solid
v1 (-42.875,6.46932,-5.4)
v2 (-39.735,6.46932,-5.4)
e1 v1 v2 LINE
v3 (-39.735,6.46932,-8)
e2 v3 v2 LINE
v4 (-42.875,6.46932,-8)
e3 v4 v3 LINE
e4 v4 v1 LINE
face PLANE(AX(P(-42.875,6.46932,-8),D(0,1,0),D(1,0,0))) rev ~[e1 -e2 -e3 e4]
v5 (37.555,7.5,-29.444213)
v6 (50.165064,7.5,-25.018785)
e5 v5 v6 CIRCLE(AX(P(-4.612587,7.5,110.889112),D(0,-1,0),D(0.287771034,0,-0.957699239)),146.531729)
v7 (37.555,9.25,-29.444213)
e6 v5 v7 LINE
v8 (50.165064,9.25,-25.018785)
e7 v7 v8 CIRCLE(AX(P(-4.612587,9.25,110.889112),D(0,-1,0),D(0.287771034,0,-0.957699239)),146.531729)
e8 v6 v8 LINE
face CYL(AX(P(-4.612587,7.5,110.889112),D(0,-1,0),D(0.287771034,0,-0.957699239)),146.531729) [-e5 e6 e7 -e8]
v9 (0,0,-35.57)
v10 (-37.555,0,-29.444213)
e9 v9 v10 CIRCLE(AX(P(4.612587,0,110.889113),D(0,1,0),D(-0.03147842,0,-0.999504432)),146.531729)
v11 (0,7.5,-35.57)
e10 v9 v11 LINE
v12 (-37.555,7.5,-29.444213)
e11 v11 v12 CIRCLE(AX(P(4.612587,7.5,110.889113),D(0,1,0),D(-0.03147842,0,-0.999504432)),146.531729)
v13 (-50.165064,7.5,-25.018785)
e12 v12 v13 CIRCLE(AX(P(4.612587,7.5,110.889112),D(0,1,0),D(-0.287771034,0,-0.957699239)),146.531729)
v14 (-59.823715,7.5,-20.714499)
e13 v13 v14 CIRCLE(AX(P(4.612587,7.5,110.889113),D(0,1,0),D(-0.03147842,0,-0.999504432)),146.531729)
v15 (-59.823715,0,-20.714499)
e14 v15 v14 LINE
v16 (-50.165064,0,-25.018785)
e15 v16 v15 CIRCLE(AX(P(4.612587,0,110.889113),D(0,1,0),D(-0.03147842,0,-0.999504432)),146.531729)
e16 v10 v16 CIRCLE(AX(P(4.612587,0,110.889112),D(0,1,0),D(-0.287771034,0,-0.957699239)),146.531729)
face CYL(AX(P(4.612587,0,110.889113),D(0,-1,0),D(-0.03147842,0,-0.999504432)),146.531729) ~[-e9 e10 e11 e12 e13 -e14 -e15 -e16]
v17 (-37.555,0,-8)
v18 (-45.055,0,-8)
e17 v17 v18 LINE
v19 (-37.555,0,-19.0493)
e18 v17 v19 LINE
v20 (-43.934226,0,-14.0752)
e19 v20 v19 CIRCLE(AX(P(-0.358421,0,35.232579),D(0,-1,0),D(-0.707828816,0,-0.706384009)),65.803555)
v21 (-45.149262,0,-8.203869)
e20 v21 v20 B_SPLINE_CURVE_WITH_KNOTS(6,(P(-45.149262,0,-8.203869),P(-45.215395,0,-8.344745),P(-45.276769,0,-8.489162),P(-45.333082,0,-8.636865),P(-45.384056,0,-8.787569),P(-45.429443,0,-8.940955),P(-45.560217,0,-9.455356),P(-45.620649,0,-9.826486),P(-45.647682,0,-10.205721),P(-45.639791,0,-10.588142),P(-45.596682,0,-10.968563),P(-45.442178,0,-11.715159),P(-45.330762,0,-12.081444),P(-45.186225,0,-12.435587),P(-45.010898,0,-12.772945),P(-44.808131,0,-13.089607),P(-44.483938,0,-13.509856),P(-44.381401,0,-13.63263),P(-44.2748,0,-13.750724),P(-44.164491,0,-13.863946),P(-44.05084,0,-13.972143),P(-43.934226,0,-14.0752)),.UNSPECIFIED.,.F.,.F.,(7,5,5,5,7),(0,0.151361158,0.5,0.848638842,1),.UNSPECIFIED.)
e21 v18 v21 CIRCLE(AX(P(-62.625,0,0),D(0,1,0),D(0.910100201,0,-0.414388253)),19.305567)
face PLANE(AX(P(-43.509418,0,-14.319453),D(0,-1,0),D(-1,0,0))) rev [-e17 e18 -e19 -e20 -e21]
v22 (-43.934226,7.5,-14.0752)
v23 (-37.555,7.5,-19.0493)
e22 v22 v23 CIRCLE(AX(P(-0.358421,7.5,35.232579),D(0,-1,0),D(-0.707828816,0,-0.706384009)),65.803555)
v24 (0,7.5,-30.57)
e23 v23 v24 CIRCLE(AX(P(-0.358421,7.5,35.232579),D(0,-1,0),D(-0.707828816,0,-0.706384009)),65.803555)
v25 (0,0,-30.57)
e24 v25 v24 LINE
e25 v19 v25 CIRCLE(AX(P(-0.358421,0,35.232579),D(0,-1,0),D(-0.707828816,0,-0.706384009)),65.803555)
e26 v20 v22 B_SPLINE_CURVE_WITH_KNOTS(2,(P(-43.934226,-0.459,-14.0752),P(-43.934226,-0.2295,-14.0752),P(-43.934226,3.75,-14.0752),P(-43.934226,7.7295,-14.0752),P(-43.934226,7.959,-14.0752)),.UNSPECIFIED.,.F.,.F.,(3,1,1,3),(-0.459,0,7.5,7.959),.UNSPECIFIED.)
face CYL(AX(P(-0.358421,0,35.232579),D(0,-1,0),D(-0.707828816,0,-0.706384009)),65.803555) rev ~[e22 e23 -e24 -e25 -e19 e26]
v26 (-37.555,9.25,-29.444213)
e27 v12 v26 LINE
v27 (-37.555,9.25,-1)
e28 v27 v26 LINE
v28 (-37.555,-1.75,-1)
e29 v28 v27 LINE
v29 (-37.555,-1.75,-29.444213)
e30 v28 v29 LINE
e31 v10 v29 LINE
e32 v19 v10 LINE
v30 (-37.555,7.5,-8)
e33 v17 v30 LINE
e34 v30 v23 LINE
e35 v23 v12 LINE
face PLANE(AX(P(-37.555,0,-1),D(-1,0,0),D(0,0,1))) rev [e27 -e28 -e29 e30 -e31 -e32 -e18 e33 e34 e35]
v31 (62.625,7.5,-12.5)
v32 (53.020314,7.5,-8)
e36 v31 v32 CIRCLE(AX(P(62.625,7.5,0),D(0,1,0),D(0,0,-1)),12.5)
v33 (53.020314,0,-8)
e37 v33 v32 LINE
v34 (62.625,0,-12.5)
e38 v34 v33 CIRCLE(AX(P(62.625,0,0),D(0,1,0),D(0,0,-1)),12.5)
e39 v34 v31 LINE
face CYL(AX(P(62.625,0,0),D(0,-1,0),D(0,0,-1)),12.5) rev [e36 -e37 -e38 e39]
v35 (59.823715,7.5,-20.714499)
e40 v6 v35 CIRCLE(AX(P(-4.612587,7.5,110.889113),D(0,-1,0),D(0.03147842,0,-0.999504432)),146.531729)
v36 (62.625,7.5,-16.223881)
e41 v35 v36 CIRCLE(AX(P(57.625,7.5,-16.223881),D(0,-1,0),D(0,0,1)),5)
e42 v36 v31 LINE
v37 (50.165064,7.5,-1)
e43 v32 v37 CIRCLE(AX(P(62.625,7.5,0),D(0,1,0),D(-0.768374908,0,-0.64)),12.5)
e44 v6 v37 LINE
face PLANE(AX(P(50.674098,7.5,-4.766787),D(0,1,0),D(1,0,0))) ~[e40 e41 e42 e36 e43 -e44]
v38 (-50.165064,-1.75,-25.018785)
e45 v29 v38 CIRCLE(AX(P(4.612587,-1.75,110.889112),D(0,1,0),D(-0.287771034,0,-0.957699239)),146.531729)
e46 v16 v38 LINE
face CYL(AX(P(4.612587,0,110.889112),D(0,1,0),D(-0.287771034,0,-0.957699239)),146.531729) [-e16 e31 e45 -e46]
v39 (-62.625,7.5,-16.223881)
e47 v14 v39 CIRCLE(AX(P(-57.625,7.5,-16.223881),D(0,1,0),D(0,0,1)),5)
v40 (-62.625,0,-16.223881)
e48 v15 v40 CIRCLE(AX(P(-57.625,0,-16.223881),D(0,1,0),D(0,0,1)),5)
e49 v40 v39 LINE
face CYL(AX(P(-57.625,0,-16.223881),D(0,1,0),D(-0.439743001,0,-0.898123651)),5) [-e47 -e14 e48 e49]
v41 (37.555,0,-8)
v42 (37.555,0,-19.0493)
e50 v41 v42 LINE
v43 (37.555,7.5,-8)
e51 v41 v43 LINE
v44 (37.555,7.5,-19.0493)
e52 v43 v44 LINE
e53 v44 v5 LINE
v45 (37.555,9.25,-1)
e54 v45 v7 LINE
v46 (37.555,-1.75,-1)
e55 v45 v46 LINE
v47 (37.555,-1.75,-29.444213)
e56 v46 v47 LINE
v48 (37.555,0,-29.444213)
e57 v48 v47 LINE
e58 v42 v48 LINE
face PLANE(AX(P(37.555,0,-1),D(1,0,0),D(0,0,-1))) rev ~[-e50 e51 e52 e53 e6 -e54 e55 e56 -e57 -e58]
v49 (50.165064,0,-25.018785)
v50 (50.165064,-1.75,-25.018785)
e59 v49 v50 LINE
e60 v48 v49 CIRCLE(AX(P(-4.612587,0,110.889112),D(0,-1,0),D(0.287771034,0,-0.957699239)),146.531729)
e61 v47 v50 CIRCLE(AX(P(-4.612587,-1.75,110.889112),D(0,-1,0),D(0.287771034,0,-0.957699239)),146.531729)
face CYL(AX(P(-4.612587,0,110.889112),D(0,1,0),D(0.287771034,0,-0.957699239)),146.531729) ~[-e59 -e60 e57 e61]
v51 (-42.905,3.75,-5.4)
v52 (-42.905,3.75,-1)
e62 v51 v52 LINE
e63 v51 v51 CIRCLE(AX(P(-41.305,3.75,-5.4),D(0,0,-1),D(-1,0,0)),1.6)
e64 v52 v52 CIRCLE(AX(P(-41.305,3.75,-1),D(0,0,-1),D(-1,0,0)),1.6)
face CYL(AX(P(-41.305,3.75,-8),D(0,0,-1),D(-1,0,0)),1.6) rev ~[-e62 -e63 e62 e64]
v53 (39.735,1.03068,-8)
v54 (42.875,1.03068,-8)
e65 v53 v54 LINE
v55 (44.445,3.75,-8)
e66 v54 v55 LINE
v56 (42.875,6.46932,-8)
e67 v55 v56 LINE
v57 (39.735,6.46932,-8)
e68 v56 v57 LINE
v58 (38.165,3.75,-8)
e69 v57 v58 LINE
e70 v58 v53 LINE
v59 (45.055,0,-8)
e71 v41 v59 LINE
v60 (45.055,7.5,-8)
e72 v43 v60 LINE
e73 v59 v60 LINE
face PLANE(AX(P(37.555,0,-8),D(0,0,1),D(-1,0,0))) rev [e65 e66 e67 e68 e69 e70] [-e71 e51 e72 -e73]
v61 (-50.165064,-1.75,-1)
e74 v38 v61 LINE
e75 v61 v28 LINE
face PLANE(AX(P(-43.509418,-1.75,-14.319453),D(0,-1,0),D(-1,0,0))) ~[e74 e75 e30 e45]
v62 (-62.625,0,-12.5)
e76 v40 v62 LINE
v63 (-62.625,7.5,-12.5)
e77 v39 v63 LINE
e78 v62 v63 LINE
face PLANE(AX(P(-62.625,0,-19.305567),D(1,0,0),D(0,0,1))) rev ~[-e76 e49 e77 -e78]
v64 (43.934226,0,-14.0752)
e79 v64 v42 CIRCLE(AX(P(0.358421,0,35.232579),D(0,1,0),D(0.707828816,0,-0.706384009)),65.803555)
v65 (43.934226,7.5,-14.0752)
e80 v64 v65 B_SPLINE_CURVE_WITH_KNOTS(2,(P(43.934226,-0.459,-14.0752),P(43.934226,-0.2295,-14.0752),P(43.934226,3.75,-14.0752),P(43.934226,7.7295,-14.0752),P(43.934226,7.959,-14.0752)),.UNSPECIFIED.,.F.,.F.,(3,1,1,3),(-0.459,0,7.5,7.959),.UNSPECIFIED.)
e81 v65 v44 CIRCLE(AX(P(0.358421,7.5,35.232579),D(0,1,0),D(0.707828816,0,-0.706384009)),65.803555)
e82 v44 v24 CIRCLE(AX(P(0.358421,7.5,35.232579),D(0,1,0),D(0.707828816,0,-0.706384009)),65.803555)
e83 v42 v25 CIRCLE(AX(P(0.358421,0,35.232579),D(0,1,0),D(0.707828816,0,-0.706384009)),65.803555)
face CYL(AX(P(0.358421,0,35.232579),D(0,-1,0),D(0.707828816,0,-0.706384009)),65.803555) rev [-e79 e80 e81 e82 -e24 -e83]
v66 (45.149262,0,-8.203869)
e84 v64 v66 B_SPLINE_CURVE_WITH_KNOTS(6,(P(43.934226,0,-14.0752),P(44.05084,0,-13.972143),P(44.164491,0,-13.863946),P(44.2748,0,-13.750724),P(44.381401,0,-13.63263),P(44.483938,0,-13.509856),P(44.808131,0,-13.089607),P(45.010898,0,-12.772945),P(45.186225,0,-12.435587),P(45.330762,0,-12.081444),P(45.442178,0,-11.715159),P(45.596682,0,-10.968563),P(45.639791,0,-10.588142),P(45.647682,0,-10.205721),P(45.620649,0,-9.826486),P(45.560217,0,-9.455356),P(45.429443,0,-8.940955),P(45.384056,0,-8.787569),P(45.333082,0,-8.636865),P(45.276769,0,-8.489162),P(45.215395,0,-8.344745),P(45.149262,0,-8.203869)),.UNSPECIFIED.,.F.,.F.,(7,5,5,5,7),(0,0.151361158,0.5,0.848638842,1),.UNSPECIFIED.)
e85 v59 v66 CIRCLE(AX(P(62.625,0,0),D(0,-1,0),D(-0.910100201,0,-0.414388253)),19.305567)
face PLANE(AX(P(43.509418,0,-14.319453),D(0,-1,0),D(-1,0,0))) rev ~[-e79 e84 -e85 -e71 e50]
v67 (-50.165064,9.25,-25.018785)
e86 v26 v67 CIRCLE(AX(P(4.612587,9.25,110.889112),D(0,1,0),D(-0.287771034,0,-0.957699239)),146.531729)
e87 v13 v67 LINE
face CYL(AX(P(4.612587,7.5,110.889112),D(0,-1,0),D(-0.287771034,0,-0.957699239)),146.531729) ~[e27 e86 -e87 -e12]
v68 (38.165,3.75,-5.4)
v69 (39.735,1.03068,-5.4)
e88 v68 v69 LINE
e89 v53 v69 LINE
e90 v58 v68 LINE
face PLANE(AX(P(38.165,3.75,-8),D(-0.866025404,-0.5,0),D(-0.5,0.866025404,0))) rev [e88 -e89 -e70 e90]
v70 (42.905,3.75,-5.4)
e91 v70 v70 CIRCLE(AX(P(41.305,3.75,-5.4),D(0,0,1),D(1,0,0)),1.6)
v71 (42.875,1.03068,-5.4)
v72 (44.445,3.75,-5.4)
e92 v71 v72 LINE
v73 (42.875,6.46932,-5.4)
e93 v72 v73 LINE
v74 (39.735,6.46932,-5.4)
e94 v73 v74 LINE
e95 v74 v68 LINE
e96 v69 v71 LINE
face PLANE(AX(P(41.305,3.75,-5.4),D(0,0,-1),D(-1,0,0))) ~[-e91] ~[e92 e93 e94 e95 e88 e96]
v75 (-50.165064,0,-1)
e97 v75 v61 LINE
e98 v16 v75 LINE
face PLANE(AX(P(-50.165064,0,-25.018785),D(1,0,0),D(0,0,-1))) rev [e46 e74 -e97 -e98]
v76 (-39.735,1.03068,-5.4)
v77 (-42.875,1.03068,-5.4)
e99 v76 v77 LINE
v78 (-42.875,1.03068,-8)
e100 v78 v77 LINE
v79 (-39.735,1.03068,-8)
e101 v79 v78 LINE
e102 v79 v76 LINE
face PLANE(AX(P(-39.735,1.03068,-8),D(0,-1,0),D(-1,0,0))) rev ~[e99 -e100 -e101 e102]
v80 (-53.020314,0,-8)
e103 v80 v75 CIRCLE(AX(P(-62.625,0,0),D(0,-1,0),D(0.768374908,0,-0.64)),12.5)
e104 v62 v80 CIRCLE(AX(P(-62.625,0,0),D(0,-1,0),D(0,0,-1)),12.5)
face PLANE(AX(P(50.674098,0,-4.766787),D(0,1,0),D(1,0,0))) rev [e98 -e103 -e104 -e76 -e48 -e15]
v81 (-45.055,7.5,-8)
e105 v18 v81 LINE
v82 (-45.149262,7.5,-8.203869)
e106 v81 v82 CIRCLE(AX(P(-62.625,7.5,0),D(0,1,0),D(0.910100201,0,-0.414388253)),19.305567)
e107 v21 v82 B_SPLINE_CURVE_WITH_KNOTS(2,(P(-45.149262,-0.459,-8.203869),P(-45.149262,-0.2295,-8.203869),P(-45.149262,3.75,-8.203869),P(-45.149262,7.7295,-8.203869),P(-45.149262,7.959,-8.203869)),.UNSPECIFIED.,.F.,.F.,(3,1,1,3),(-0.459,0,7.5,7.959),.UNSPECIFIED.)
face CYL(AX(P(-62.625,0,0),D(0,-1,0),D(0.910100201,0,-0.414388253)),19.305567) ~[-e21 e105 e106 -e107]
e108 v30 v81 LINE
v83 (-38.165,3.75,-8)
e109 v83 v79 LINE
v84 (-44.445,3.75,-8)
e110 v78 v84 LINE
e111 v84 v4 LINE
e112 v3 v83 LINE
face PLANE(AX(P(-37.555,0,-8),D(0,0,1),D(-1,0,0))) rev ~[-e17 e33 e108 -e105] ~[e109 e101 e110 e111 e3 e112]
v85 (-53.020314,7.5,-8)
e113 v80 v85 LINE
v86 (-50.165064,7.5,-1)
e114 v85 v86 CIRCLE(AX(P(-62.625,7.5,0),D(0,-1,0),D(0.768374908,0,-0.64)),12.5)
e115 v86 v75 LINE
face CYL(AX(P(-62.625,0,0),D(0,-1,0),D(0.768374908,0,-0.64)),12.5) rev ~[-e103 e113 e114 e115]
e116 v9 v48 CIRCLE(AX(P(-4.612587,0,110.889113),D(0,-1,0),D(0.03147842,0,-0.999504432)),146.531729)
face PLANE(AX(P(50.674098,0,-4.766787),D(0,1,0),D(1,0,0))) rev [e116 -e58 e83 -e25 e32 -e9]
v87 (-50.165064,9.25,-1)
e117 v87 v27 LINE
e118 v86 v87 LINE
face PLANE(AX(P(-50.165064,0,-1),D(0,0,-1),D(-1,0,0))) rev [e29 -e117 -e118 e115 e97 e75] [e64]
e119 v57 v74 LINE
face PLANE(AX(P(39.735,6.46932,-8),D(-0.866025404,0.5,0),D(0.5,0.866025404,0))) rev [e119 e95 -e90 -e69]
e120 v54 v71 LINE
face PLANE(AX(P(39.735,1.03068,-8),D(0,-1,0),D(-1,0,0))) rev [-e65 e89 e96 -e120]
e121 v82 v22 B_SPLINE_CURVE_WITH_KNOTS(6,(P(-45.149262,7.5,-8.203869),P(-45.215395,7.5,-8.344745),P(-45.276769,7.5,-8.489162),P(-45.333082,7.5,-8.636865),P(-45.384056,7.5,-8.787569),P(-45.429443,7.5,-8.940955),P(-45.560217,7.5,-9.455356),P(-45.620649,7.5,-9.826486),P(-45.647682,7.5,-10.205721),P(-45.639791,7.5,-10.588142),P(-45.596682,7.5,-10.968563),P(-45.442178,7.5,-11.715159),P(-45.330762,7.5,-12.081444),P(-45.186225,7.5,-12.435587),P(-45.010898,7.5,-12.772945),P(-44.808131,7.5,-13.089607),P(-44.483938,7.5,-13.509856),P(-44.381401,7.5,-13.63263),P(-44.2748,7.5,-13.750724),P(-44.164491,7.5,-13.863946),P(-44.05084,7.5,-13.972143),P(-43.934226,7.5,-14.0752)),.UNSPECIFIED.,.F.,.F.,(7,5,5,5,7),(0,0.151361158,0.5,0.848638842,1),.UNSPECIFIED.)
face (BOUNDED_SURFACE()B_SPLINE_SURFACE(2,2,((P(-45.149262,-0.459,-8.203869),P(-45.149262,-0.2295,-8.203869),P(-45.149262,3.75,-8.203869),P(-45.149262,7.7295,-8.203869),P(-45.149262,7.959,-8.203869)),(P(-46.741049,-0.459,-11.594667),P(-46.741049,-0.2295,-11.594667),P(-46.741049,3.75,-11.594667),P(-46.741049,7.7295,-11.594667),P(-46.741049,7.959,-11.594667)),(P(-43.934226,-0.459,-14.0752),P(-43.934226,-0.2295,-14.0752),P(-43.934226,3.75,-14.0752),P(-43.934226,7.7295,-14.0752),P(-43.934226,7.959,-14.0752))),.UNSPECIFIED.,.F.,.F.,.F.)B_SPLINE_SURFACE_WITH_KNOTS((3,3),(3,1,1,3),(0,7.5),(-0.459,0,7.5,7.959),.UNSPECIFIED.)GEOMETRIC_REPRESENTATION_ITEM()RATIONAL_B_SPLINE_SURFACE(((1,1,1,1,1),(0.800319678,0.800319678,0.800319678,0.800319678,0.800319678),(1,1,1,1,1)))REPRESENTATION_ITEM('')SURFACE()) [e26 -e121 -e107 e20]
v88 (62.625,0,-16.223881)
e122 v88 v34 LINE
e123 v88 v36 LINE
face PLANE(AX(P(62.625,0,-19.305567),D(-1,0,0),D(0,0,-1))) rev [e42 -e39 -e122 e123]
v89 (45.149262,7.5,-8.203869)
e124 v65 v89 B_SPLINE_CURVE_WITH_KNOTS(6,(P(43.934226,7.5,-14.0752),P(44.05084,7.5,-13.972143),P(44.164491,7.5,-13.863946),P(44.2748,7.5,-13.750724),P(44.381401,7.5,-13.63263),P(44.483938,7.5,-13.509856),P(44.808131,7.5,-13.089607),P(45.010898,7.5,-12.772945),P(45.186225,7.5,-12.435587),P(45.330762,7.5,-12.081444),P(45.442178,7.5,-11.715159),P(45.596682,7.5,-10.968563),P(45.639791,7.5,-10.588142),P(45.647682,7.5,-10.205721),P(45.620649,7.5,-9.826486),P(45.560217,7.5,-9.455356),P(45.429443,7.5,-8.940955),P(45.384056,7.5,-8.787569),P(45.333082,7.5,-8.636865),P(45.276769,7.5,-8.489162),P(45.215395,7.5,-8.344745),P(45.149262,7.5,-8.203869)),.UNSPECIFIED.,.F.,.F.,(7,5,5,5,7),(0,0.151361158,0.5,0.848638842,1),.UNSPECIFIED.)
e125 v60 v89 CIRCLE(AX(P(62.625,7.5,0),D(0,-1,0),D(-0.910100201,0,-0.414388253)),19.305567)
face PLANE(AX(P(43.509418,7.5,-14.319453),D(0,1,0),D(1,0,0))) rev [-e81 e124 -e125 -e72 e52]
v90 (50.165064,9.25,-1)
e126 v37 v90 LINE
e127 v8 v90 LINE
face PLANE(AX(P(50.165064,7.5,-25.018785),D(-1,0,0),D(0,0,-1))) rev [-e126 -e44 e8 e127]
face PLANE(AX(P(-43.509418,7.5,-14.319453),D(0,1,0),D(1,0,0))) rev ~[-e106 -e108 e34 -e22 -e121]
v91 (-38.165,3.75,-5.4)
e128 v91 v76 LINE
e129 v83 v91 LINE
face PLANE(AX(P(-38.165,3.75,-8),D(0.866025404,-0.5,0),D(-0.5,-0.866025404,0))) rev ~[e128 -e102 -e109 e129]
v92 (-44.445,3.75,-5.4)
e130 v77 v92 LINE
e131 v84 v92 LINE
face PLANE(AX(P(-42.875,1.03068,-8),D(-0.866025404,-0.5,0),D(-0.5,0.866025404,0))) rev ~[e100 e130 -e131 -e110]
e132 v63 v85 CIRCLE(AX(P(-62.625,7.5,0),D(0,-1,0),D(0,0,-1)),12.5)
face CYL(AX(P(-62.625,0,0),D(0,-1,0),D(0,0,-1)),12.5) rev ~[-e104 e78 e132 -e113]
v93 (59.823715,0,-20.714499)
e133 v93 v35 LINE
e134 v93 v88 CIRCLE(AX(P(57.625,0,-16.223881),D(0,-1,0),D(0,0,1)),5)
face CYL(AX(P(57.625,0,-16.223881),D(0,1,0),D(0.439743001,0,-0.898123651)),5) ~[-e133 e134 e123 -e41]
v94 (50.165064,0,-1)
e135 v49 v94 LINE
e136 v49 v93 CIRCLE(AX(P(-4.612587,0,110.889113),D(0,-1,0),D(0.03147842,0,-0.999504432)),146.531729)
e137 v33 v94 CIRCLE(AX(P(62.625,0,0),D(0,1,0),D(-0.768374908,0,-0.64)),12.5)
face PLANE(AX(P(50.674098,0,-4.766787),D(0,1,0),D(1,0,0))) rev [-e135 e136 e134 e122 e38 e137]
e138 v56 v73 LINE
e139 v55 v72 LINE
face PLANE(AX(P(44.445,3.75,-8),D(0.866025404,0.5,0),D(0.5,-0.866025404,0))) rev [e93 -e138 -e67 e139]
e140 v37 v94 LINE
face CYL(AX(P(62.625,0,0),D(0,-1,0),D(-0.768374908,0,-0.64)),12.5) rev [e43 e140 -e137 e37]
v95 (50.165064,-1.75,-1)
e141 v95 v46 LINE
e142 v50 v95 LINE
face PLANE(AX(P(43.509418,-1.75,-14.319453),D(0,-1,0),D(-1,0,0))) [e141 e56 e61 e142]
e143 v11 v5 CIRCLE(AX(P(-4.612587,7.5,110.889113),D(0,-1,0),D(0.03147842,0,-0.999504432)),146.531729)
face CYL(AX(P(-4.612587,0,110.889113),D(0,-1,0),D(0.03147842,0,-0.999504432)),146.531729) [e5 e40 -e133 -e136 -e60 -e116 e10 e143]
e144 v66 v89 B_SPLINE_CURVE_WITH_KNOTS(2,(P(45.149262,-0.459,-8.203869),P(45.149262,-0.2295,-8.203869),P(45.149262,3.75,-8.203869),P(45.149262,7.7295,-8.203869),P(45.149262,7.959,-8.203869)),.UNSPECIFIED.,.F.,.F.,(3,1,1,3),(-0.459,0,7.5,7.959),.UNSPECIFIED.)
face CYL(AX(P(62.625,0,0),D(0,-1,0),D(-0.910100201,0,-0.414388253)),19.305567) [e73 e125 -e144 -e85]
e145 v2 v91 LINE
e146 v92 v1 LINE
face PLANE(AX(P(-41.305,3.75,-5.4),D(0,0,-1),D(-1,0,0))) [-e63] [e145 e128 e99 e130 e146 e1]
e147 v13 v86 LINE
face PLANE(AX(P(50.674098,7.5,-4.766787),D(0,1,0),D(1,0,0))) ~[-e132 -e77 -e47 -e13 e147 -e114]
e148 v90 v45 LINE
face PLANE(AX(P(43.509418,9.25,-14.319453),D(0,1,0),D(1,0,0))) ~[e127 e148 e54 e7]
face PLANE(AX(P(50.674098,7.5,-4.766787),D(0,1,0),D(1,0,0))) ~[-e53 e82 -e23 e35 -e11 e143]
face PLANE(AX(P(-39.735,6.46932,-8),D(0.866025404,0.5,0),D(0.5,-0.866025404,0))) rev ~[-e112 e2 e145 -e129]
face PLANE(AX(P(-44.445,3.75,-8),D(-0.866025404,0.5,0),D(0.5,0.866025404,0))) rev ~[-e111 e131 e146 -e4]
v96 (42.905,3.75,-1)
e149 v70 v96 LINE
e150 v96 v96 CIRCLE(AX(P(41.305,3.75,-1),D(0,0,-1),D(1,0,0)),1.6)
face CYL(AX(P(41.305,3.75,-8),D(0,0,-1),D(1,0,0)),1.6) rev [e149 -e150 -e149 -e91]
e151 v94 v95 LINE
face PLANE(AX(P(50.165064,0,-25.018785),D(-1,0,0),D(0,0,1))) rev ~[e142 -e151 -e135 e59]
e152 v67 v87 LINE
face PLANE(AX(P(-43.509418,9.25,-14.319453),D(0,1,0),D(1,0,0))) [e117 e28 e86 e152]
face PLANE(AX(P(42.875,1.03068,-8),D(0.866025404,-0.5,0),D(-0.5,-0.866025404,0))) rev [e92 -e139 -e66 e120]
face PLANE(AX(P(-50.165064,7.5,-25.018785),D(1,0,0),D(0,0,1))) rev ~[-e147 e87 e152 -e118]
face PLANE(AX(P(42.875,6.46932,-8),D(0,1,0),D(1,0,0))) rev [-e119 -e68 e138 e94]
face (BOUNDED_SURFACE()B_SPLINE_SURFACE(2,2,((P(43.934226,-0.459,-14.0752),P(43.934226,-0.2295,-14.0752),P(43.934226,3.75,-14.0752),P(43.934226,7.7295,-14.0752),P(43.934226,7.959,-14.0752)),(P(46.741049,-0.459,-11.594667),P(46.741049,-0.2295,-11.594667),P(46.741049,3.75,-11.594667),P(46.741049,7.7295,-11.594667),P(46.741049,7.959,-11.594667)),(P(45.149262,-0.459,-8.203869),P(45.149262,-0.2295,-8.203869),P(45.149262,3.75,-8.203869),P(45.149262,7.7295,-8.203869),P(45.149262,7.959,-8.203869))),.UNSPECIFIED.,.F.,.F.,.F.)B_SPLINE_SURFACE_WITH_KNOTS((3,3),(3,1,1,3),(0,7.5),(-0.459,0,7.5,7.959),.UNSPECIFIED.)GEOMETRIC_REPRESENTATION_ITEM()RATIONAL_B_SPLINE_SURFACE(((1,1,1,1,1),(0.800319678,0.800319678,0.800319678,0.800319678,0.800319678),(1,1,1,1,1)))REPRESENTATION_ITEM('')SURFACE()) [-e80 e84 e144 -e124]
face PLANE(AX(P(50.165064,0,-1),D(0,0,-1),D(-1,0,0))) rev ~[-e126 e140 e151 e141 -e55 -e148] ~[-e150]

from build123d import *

# Parameters (mm, degrees)
BOSS_EXTRUDE1_DEPTH  = 7.5
SKETCH2_R            = 1.6
CUT_EXTRUDE1_DEPTH   = 65.077737633
BOSS_EXTRUDE4_START  = -7.5
BOSS_EXTRUDE4_DEPTH  = 7.5
SKETCH4_R            = 1.6
CUT_EXTRUDE2_DEPTH   = 2.6
SKETCH6_R            = 156.176390482
CUT_EXTRUDE3_DEPTH   = 1
FILLET1_R            = 5
FILLET2_R            = 5
FILLET3_R            = 5
FILLET4_R            = 5
BOSS_EXTRUDE5_DEPTH  = 1.75
MIRROR9_COPY_1_DEPTH = 1.75


with BuildPart() as part:
    # Sketch1 → Boss-Extrude1 (new body)
    with BuildSketch(Plane(origin=(0, 0, 0), x_dir=(1, 0, 0), z_dir=(0, 1, 0))):
        with BuildLine():
            ThreePointArc((-53.020313644, 8), (-50.871094703, 4.253905297), (-50.125, 0))
            ThreePointArc((-50.125, 0), (-49.964111284, 4.012880342), (-49.482477959, 8))
            Line((-49.482477959, 8), (-53.020313644, 8))
        make_face()
        with BuildLine():
            ThreePointArc((-49.482477959, 8), (-49.964111284, 4.012880342), (-50.125, 0))
            Line((-50.125, 0), (-43.319433445, 0))
            ThreePointArc((-43.319433445, 0), (-43.758313694, 4.093048719), (-45.055, 8))
            Line((-45.055, 8), (-49.482477959, 8))
        make_face()
        with BuildLine():
            ThreePointArc((-45.055, 8), (-43.758313694, 4.093048719), (-43.319433445, 0))
            Line((-43.319433445, 0), (-37.555, 0))
            Line((-37.555, 0), (-37.555, 8))
            Line((-37.555, 8), (-45.055, 8))
        make_face()
        with BuildLine():
            ThreePointArc((-48.396817166, 13.048513832), (-49.004703616, 10.538246936), (-49.482477959, 8))
            Line((-49.482477959, 8), (-45.055, 8))
            ThreePointArc((-45.055, 8), (-46.526770878, 10.656074283), (-48.396817166, 13.048513832))
        make_face()
        with BuildLine():
            ThreePointArc((-62.625, 12.5), (-57.321699141, 11.319231423), (-53.020313644, 8))
            Line((-53.020313644, 8), (-49.482477959, 8))
            ThreePointArc((-49.482477959, 8), (-49.004703616, 10.538246936), (-48.396817166, 13.048513832))
            ThreePointArc((-48.396817166, 13.048513832), (-54.853386661, 17.672207732), (-62.625, 19.305566555))
            Line((-62.625, 19.305566555), (-62.625, 12.5))
        make_face()
    boss_extrude1 = extrude(amount=BOSS_EXTRUDE1_DEPTH)

    # Sketch2 → Cut-Extrude1 (cut, through all)
    with BuildSketch(Plane(origin=(0, 0, -8), x_dir=(-1, 0, 0), z_dir=(0, 0, -1))):
        with Locations((41.305, 3.75)):
            Circle(SKETCH2_R)
    cut_extrude1 = extrude(amount=-CUT_EXTRUDE1_DEPTH, mode=Mode.SUBTRACT)

    # Sketch3 → Boss-Extrude4 (add)
    with BuildSketch(Plane(origin=(0, 7.5, 0), x_dir=(1, 0, 0), z_dir=(0, 1, 0)).offset(BOSS_EXTRUDE4_START)):
        with BuildLine():
            ThreePointArc((-62.625, 19.305566555), (-53.806914146, 17.173999589), (-46.936073969, 11.25))
            ThreePointArc((-46.936073969, 11.25), (-25.405775196, 25.617547828), (0, 30.57))
            Line((0, 30.57), (0, 35.57))
            ThreePointArc((0, 35.57), (-32.221430215, 30.937551956), (-62.625, 19.305566555))
        make_face()
    boss_extrude4 = extrude(amount=BOSS_EXTRUDE4_DEPTH)

    # Sketch4 → Cut-Extrude2 (cut)
    with BuildSketch(Plane(origin=(0, 0, -8), x_dir=(-1, 0, 0), z_dir=(0, 0, -1))):
        Polygon((39.735, 1.030680232), (42.875, 1.030680232), (44.445, 3.75), (42.875, 6.469319768), (39.735, 6.469319768), (38.165, 3.75), align=None)
        with Locations((41.305, 3.75)):
            Circle(SKETCH4_R, mode=Mode.SUBTRACT)
    cut_extrude2 = extrude(amount=-CUT_EXTRUDE2_DEPTH, mode=Mode.SUBTRACT)

    # Mirror5: Boss-Extrude4 across plane
    add(boss_extrude4.mirror(Plane(origin=(0, 0, 0), x_dir=(0, 0, 1), z_dir=(1, 0, 0))))

    # Mirror6: Boss-Extrude1 across plane
    add(boss_extrude1.mirror(Plane(origin=(0, 0, 0), x_dir=(0, 0, 1), z_dir=(1, 0, 0))))

    # Mirror7: Cut-Extrude1, Cut-Extrude2 across plane
    add(cut_extrude1.mirror(Plane(origin=(0, 0, 0), x_dir=(0, 0, 1), z_dir=(1, 0, 0))), mode=Mode.SUBTRACT)
    add(cut_extrude2.mirror(Plane(origin=(0, 0, 0), x_dir=(0, 0, 1), z_dir=(1, 0, 0))), mode=Mode.SUBTRACT)

    # Sketch6 → Cut-Extrude3 (cut)
    with BuildSketch(Plane.XY):
        Circle(SKETCH6_R)
    extrude(amount=-CUT_EXTRUDE3_DEPTH, mode=Mode.SUBTRACT)

    # Fillet1
    fillet1_edges = [part.edges().sort_by_distance(p)[0] for p in [
        (-62.625, 3.75, -19.305566555),
    ]]
    fillet(fillet1_edges, radius=FILLET1_R)

    # Fillet2
    fillet2_edges = [part.edges().sort_by_distance(p)[0] for p in [
        (62.625, 3.75, -19.305566555),
    ]]
    fillet(fillet2_edges, radius=FILLET2_R)

    # Fillet3
    fillet3_edges = [part.edges().sort_by_distance(p)[0] for p in [
        (-46.936073969, 3.75, -11.25),
    ]]
    fillet(fillet3_edges, radius=FILLET3_R)

    # Fillet4
    fillet4_edges = [part.edges().sort_by_distance(p)[0] for p in [
        (46.936073969, 3.75, -11.25),
    ]]
    fillet(fillet4_edges, radius=FILLET4_R)

    # Sketch7 → Boss-Extrude5 (add)
    with BuildSketch(Plane(origin=(0, 7.5, 0), x_dir=(1, 0, 0), z_dir=(0, 1, 0))):
        with BuildLine():
            Line((-50.165064206, 1), (-37.555, 1))
            Line((-37.555, 1), (-37.555, 29.44421276))
            ThreePointArc((-37.555, 29.44421276), (-43.910509627, 27.37533218), (-50.165064206, 25.0187846))
            Line((-50.165064206, 25.0187846), (-50.165064206, 1))
        make_face()
    boss_extrude5 = extrude(amount=BOSS_EXTRUDE5_DEPTH)

    # Mirror8: Boss-Extrude5 across plane
    add(boss_extrude5.mirror(Plane.ZX.offset(3.75)))

    # Mirror9: Boss-Extrude5 across plane
    add(boss_extrude5.mirror(Plane(origin=(0, 0, 0), x_dir=(0, 0, 1), z_dir=(1, 0, 0))))

    # Mirror9 copy 1 sketch → Mirror9 copy 1 (add)
    with BuildSketch(Plane(origin=(0, 0, 0), x_dir=(-1, 0, 0), z_dir=(0, -1, 0))):
        with BuildLine():
            Line((-50.165064206, 1), (-37.555, 1))
            Line((-37.555, 1), (-37.555, 29.44421276))
            ThreePointArc((-37.555, 29.44421276), (-43.910509627, 27.37533218), (-50.165064206, 25.0187846))
            Line((-50.165064206, 25.0187846), (-50.165064206, 1))
        make_face()
    extrude(amount=MIRROR9_COPY_1_DEPTH)


solid = part.part
